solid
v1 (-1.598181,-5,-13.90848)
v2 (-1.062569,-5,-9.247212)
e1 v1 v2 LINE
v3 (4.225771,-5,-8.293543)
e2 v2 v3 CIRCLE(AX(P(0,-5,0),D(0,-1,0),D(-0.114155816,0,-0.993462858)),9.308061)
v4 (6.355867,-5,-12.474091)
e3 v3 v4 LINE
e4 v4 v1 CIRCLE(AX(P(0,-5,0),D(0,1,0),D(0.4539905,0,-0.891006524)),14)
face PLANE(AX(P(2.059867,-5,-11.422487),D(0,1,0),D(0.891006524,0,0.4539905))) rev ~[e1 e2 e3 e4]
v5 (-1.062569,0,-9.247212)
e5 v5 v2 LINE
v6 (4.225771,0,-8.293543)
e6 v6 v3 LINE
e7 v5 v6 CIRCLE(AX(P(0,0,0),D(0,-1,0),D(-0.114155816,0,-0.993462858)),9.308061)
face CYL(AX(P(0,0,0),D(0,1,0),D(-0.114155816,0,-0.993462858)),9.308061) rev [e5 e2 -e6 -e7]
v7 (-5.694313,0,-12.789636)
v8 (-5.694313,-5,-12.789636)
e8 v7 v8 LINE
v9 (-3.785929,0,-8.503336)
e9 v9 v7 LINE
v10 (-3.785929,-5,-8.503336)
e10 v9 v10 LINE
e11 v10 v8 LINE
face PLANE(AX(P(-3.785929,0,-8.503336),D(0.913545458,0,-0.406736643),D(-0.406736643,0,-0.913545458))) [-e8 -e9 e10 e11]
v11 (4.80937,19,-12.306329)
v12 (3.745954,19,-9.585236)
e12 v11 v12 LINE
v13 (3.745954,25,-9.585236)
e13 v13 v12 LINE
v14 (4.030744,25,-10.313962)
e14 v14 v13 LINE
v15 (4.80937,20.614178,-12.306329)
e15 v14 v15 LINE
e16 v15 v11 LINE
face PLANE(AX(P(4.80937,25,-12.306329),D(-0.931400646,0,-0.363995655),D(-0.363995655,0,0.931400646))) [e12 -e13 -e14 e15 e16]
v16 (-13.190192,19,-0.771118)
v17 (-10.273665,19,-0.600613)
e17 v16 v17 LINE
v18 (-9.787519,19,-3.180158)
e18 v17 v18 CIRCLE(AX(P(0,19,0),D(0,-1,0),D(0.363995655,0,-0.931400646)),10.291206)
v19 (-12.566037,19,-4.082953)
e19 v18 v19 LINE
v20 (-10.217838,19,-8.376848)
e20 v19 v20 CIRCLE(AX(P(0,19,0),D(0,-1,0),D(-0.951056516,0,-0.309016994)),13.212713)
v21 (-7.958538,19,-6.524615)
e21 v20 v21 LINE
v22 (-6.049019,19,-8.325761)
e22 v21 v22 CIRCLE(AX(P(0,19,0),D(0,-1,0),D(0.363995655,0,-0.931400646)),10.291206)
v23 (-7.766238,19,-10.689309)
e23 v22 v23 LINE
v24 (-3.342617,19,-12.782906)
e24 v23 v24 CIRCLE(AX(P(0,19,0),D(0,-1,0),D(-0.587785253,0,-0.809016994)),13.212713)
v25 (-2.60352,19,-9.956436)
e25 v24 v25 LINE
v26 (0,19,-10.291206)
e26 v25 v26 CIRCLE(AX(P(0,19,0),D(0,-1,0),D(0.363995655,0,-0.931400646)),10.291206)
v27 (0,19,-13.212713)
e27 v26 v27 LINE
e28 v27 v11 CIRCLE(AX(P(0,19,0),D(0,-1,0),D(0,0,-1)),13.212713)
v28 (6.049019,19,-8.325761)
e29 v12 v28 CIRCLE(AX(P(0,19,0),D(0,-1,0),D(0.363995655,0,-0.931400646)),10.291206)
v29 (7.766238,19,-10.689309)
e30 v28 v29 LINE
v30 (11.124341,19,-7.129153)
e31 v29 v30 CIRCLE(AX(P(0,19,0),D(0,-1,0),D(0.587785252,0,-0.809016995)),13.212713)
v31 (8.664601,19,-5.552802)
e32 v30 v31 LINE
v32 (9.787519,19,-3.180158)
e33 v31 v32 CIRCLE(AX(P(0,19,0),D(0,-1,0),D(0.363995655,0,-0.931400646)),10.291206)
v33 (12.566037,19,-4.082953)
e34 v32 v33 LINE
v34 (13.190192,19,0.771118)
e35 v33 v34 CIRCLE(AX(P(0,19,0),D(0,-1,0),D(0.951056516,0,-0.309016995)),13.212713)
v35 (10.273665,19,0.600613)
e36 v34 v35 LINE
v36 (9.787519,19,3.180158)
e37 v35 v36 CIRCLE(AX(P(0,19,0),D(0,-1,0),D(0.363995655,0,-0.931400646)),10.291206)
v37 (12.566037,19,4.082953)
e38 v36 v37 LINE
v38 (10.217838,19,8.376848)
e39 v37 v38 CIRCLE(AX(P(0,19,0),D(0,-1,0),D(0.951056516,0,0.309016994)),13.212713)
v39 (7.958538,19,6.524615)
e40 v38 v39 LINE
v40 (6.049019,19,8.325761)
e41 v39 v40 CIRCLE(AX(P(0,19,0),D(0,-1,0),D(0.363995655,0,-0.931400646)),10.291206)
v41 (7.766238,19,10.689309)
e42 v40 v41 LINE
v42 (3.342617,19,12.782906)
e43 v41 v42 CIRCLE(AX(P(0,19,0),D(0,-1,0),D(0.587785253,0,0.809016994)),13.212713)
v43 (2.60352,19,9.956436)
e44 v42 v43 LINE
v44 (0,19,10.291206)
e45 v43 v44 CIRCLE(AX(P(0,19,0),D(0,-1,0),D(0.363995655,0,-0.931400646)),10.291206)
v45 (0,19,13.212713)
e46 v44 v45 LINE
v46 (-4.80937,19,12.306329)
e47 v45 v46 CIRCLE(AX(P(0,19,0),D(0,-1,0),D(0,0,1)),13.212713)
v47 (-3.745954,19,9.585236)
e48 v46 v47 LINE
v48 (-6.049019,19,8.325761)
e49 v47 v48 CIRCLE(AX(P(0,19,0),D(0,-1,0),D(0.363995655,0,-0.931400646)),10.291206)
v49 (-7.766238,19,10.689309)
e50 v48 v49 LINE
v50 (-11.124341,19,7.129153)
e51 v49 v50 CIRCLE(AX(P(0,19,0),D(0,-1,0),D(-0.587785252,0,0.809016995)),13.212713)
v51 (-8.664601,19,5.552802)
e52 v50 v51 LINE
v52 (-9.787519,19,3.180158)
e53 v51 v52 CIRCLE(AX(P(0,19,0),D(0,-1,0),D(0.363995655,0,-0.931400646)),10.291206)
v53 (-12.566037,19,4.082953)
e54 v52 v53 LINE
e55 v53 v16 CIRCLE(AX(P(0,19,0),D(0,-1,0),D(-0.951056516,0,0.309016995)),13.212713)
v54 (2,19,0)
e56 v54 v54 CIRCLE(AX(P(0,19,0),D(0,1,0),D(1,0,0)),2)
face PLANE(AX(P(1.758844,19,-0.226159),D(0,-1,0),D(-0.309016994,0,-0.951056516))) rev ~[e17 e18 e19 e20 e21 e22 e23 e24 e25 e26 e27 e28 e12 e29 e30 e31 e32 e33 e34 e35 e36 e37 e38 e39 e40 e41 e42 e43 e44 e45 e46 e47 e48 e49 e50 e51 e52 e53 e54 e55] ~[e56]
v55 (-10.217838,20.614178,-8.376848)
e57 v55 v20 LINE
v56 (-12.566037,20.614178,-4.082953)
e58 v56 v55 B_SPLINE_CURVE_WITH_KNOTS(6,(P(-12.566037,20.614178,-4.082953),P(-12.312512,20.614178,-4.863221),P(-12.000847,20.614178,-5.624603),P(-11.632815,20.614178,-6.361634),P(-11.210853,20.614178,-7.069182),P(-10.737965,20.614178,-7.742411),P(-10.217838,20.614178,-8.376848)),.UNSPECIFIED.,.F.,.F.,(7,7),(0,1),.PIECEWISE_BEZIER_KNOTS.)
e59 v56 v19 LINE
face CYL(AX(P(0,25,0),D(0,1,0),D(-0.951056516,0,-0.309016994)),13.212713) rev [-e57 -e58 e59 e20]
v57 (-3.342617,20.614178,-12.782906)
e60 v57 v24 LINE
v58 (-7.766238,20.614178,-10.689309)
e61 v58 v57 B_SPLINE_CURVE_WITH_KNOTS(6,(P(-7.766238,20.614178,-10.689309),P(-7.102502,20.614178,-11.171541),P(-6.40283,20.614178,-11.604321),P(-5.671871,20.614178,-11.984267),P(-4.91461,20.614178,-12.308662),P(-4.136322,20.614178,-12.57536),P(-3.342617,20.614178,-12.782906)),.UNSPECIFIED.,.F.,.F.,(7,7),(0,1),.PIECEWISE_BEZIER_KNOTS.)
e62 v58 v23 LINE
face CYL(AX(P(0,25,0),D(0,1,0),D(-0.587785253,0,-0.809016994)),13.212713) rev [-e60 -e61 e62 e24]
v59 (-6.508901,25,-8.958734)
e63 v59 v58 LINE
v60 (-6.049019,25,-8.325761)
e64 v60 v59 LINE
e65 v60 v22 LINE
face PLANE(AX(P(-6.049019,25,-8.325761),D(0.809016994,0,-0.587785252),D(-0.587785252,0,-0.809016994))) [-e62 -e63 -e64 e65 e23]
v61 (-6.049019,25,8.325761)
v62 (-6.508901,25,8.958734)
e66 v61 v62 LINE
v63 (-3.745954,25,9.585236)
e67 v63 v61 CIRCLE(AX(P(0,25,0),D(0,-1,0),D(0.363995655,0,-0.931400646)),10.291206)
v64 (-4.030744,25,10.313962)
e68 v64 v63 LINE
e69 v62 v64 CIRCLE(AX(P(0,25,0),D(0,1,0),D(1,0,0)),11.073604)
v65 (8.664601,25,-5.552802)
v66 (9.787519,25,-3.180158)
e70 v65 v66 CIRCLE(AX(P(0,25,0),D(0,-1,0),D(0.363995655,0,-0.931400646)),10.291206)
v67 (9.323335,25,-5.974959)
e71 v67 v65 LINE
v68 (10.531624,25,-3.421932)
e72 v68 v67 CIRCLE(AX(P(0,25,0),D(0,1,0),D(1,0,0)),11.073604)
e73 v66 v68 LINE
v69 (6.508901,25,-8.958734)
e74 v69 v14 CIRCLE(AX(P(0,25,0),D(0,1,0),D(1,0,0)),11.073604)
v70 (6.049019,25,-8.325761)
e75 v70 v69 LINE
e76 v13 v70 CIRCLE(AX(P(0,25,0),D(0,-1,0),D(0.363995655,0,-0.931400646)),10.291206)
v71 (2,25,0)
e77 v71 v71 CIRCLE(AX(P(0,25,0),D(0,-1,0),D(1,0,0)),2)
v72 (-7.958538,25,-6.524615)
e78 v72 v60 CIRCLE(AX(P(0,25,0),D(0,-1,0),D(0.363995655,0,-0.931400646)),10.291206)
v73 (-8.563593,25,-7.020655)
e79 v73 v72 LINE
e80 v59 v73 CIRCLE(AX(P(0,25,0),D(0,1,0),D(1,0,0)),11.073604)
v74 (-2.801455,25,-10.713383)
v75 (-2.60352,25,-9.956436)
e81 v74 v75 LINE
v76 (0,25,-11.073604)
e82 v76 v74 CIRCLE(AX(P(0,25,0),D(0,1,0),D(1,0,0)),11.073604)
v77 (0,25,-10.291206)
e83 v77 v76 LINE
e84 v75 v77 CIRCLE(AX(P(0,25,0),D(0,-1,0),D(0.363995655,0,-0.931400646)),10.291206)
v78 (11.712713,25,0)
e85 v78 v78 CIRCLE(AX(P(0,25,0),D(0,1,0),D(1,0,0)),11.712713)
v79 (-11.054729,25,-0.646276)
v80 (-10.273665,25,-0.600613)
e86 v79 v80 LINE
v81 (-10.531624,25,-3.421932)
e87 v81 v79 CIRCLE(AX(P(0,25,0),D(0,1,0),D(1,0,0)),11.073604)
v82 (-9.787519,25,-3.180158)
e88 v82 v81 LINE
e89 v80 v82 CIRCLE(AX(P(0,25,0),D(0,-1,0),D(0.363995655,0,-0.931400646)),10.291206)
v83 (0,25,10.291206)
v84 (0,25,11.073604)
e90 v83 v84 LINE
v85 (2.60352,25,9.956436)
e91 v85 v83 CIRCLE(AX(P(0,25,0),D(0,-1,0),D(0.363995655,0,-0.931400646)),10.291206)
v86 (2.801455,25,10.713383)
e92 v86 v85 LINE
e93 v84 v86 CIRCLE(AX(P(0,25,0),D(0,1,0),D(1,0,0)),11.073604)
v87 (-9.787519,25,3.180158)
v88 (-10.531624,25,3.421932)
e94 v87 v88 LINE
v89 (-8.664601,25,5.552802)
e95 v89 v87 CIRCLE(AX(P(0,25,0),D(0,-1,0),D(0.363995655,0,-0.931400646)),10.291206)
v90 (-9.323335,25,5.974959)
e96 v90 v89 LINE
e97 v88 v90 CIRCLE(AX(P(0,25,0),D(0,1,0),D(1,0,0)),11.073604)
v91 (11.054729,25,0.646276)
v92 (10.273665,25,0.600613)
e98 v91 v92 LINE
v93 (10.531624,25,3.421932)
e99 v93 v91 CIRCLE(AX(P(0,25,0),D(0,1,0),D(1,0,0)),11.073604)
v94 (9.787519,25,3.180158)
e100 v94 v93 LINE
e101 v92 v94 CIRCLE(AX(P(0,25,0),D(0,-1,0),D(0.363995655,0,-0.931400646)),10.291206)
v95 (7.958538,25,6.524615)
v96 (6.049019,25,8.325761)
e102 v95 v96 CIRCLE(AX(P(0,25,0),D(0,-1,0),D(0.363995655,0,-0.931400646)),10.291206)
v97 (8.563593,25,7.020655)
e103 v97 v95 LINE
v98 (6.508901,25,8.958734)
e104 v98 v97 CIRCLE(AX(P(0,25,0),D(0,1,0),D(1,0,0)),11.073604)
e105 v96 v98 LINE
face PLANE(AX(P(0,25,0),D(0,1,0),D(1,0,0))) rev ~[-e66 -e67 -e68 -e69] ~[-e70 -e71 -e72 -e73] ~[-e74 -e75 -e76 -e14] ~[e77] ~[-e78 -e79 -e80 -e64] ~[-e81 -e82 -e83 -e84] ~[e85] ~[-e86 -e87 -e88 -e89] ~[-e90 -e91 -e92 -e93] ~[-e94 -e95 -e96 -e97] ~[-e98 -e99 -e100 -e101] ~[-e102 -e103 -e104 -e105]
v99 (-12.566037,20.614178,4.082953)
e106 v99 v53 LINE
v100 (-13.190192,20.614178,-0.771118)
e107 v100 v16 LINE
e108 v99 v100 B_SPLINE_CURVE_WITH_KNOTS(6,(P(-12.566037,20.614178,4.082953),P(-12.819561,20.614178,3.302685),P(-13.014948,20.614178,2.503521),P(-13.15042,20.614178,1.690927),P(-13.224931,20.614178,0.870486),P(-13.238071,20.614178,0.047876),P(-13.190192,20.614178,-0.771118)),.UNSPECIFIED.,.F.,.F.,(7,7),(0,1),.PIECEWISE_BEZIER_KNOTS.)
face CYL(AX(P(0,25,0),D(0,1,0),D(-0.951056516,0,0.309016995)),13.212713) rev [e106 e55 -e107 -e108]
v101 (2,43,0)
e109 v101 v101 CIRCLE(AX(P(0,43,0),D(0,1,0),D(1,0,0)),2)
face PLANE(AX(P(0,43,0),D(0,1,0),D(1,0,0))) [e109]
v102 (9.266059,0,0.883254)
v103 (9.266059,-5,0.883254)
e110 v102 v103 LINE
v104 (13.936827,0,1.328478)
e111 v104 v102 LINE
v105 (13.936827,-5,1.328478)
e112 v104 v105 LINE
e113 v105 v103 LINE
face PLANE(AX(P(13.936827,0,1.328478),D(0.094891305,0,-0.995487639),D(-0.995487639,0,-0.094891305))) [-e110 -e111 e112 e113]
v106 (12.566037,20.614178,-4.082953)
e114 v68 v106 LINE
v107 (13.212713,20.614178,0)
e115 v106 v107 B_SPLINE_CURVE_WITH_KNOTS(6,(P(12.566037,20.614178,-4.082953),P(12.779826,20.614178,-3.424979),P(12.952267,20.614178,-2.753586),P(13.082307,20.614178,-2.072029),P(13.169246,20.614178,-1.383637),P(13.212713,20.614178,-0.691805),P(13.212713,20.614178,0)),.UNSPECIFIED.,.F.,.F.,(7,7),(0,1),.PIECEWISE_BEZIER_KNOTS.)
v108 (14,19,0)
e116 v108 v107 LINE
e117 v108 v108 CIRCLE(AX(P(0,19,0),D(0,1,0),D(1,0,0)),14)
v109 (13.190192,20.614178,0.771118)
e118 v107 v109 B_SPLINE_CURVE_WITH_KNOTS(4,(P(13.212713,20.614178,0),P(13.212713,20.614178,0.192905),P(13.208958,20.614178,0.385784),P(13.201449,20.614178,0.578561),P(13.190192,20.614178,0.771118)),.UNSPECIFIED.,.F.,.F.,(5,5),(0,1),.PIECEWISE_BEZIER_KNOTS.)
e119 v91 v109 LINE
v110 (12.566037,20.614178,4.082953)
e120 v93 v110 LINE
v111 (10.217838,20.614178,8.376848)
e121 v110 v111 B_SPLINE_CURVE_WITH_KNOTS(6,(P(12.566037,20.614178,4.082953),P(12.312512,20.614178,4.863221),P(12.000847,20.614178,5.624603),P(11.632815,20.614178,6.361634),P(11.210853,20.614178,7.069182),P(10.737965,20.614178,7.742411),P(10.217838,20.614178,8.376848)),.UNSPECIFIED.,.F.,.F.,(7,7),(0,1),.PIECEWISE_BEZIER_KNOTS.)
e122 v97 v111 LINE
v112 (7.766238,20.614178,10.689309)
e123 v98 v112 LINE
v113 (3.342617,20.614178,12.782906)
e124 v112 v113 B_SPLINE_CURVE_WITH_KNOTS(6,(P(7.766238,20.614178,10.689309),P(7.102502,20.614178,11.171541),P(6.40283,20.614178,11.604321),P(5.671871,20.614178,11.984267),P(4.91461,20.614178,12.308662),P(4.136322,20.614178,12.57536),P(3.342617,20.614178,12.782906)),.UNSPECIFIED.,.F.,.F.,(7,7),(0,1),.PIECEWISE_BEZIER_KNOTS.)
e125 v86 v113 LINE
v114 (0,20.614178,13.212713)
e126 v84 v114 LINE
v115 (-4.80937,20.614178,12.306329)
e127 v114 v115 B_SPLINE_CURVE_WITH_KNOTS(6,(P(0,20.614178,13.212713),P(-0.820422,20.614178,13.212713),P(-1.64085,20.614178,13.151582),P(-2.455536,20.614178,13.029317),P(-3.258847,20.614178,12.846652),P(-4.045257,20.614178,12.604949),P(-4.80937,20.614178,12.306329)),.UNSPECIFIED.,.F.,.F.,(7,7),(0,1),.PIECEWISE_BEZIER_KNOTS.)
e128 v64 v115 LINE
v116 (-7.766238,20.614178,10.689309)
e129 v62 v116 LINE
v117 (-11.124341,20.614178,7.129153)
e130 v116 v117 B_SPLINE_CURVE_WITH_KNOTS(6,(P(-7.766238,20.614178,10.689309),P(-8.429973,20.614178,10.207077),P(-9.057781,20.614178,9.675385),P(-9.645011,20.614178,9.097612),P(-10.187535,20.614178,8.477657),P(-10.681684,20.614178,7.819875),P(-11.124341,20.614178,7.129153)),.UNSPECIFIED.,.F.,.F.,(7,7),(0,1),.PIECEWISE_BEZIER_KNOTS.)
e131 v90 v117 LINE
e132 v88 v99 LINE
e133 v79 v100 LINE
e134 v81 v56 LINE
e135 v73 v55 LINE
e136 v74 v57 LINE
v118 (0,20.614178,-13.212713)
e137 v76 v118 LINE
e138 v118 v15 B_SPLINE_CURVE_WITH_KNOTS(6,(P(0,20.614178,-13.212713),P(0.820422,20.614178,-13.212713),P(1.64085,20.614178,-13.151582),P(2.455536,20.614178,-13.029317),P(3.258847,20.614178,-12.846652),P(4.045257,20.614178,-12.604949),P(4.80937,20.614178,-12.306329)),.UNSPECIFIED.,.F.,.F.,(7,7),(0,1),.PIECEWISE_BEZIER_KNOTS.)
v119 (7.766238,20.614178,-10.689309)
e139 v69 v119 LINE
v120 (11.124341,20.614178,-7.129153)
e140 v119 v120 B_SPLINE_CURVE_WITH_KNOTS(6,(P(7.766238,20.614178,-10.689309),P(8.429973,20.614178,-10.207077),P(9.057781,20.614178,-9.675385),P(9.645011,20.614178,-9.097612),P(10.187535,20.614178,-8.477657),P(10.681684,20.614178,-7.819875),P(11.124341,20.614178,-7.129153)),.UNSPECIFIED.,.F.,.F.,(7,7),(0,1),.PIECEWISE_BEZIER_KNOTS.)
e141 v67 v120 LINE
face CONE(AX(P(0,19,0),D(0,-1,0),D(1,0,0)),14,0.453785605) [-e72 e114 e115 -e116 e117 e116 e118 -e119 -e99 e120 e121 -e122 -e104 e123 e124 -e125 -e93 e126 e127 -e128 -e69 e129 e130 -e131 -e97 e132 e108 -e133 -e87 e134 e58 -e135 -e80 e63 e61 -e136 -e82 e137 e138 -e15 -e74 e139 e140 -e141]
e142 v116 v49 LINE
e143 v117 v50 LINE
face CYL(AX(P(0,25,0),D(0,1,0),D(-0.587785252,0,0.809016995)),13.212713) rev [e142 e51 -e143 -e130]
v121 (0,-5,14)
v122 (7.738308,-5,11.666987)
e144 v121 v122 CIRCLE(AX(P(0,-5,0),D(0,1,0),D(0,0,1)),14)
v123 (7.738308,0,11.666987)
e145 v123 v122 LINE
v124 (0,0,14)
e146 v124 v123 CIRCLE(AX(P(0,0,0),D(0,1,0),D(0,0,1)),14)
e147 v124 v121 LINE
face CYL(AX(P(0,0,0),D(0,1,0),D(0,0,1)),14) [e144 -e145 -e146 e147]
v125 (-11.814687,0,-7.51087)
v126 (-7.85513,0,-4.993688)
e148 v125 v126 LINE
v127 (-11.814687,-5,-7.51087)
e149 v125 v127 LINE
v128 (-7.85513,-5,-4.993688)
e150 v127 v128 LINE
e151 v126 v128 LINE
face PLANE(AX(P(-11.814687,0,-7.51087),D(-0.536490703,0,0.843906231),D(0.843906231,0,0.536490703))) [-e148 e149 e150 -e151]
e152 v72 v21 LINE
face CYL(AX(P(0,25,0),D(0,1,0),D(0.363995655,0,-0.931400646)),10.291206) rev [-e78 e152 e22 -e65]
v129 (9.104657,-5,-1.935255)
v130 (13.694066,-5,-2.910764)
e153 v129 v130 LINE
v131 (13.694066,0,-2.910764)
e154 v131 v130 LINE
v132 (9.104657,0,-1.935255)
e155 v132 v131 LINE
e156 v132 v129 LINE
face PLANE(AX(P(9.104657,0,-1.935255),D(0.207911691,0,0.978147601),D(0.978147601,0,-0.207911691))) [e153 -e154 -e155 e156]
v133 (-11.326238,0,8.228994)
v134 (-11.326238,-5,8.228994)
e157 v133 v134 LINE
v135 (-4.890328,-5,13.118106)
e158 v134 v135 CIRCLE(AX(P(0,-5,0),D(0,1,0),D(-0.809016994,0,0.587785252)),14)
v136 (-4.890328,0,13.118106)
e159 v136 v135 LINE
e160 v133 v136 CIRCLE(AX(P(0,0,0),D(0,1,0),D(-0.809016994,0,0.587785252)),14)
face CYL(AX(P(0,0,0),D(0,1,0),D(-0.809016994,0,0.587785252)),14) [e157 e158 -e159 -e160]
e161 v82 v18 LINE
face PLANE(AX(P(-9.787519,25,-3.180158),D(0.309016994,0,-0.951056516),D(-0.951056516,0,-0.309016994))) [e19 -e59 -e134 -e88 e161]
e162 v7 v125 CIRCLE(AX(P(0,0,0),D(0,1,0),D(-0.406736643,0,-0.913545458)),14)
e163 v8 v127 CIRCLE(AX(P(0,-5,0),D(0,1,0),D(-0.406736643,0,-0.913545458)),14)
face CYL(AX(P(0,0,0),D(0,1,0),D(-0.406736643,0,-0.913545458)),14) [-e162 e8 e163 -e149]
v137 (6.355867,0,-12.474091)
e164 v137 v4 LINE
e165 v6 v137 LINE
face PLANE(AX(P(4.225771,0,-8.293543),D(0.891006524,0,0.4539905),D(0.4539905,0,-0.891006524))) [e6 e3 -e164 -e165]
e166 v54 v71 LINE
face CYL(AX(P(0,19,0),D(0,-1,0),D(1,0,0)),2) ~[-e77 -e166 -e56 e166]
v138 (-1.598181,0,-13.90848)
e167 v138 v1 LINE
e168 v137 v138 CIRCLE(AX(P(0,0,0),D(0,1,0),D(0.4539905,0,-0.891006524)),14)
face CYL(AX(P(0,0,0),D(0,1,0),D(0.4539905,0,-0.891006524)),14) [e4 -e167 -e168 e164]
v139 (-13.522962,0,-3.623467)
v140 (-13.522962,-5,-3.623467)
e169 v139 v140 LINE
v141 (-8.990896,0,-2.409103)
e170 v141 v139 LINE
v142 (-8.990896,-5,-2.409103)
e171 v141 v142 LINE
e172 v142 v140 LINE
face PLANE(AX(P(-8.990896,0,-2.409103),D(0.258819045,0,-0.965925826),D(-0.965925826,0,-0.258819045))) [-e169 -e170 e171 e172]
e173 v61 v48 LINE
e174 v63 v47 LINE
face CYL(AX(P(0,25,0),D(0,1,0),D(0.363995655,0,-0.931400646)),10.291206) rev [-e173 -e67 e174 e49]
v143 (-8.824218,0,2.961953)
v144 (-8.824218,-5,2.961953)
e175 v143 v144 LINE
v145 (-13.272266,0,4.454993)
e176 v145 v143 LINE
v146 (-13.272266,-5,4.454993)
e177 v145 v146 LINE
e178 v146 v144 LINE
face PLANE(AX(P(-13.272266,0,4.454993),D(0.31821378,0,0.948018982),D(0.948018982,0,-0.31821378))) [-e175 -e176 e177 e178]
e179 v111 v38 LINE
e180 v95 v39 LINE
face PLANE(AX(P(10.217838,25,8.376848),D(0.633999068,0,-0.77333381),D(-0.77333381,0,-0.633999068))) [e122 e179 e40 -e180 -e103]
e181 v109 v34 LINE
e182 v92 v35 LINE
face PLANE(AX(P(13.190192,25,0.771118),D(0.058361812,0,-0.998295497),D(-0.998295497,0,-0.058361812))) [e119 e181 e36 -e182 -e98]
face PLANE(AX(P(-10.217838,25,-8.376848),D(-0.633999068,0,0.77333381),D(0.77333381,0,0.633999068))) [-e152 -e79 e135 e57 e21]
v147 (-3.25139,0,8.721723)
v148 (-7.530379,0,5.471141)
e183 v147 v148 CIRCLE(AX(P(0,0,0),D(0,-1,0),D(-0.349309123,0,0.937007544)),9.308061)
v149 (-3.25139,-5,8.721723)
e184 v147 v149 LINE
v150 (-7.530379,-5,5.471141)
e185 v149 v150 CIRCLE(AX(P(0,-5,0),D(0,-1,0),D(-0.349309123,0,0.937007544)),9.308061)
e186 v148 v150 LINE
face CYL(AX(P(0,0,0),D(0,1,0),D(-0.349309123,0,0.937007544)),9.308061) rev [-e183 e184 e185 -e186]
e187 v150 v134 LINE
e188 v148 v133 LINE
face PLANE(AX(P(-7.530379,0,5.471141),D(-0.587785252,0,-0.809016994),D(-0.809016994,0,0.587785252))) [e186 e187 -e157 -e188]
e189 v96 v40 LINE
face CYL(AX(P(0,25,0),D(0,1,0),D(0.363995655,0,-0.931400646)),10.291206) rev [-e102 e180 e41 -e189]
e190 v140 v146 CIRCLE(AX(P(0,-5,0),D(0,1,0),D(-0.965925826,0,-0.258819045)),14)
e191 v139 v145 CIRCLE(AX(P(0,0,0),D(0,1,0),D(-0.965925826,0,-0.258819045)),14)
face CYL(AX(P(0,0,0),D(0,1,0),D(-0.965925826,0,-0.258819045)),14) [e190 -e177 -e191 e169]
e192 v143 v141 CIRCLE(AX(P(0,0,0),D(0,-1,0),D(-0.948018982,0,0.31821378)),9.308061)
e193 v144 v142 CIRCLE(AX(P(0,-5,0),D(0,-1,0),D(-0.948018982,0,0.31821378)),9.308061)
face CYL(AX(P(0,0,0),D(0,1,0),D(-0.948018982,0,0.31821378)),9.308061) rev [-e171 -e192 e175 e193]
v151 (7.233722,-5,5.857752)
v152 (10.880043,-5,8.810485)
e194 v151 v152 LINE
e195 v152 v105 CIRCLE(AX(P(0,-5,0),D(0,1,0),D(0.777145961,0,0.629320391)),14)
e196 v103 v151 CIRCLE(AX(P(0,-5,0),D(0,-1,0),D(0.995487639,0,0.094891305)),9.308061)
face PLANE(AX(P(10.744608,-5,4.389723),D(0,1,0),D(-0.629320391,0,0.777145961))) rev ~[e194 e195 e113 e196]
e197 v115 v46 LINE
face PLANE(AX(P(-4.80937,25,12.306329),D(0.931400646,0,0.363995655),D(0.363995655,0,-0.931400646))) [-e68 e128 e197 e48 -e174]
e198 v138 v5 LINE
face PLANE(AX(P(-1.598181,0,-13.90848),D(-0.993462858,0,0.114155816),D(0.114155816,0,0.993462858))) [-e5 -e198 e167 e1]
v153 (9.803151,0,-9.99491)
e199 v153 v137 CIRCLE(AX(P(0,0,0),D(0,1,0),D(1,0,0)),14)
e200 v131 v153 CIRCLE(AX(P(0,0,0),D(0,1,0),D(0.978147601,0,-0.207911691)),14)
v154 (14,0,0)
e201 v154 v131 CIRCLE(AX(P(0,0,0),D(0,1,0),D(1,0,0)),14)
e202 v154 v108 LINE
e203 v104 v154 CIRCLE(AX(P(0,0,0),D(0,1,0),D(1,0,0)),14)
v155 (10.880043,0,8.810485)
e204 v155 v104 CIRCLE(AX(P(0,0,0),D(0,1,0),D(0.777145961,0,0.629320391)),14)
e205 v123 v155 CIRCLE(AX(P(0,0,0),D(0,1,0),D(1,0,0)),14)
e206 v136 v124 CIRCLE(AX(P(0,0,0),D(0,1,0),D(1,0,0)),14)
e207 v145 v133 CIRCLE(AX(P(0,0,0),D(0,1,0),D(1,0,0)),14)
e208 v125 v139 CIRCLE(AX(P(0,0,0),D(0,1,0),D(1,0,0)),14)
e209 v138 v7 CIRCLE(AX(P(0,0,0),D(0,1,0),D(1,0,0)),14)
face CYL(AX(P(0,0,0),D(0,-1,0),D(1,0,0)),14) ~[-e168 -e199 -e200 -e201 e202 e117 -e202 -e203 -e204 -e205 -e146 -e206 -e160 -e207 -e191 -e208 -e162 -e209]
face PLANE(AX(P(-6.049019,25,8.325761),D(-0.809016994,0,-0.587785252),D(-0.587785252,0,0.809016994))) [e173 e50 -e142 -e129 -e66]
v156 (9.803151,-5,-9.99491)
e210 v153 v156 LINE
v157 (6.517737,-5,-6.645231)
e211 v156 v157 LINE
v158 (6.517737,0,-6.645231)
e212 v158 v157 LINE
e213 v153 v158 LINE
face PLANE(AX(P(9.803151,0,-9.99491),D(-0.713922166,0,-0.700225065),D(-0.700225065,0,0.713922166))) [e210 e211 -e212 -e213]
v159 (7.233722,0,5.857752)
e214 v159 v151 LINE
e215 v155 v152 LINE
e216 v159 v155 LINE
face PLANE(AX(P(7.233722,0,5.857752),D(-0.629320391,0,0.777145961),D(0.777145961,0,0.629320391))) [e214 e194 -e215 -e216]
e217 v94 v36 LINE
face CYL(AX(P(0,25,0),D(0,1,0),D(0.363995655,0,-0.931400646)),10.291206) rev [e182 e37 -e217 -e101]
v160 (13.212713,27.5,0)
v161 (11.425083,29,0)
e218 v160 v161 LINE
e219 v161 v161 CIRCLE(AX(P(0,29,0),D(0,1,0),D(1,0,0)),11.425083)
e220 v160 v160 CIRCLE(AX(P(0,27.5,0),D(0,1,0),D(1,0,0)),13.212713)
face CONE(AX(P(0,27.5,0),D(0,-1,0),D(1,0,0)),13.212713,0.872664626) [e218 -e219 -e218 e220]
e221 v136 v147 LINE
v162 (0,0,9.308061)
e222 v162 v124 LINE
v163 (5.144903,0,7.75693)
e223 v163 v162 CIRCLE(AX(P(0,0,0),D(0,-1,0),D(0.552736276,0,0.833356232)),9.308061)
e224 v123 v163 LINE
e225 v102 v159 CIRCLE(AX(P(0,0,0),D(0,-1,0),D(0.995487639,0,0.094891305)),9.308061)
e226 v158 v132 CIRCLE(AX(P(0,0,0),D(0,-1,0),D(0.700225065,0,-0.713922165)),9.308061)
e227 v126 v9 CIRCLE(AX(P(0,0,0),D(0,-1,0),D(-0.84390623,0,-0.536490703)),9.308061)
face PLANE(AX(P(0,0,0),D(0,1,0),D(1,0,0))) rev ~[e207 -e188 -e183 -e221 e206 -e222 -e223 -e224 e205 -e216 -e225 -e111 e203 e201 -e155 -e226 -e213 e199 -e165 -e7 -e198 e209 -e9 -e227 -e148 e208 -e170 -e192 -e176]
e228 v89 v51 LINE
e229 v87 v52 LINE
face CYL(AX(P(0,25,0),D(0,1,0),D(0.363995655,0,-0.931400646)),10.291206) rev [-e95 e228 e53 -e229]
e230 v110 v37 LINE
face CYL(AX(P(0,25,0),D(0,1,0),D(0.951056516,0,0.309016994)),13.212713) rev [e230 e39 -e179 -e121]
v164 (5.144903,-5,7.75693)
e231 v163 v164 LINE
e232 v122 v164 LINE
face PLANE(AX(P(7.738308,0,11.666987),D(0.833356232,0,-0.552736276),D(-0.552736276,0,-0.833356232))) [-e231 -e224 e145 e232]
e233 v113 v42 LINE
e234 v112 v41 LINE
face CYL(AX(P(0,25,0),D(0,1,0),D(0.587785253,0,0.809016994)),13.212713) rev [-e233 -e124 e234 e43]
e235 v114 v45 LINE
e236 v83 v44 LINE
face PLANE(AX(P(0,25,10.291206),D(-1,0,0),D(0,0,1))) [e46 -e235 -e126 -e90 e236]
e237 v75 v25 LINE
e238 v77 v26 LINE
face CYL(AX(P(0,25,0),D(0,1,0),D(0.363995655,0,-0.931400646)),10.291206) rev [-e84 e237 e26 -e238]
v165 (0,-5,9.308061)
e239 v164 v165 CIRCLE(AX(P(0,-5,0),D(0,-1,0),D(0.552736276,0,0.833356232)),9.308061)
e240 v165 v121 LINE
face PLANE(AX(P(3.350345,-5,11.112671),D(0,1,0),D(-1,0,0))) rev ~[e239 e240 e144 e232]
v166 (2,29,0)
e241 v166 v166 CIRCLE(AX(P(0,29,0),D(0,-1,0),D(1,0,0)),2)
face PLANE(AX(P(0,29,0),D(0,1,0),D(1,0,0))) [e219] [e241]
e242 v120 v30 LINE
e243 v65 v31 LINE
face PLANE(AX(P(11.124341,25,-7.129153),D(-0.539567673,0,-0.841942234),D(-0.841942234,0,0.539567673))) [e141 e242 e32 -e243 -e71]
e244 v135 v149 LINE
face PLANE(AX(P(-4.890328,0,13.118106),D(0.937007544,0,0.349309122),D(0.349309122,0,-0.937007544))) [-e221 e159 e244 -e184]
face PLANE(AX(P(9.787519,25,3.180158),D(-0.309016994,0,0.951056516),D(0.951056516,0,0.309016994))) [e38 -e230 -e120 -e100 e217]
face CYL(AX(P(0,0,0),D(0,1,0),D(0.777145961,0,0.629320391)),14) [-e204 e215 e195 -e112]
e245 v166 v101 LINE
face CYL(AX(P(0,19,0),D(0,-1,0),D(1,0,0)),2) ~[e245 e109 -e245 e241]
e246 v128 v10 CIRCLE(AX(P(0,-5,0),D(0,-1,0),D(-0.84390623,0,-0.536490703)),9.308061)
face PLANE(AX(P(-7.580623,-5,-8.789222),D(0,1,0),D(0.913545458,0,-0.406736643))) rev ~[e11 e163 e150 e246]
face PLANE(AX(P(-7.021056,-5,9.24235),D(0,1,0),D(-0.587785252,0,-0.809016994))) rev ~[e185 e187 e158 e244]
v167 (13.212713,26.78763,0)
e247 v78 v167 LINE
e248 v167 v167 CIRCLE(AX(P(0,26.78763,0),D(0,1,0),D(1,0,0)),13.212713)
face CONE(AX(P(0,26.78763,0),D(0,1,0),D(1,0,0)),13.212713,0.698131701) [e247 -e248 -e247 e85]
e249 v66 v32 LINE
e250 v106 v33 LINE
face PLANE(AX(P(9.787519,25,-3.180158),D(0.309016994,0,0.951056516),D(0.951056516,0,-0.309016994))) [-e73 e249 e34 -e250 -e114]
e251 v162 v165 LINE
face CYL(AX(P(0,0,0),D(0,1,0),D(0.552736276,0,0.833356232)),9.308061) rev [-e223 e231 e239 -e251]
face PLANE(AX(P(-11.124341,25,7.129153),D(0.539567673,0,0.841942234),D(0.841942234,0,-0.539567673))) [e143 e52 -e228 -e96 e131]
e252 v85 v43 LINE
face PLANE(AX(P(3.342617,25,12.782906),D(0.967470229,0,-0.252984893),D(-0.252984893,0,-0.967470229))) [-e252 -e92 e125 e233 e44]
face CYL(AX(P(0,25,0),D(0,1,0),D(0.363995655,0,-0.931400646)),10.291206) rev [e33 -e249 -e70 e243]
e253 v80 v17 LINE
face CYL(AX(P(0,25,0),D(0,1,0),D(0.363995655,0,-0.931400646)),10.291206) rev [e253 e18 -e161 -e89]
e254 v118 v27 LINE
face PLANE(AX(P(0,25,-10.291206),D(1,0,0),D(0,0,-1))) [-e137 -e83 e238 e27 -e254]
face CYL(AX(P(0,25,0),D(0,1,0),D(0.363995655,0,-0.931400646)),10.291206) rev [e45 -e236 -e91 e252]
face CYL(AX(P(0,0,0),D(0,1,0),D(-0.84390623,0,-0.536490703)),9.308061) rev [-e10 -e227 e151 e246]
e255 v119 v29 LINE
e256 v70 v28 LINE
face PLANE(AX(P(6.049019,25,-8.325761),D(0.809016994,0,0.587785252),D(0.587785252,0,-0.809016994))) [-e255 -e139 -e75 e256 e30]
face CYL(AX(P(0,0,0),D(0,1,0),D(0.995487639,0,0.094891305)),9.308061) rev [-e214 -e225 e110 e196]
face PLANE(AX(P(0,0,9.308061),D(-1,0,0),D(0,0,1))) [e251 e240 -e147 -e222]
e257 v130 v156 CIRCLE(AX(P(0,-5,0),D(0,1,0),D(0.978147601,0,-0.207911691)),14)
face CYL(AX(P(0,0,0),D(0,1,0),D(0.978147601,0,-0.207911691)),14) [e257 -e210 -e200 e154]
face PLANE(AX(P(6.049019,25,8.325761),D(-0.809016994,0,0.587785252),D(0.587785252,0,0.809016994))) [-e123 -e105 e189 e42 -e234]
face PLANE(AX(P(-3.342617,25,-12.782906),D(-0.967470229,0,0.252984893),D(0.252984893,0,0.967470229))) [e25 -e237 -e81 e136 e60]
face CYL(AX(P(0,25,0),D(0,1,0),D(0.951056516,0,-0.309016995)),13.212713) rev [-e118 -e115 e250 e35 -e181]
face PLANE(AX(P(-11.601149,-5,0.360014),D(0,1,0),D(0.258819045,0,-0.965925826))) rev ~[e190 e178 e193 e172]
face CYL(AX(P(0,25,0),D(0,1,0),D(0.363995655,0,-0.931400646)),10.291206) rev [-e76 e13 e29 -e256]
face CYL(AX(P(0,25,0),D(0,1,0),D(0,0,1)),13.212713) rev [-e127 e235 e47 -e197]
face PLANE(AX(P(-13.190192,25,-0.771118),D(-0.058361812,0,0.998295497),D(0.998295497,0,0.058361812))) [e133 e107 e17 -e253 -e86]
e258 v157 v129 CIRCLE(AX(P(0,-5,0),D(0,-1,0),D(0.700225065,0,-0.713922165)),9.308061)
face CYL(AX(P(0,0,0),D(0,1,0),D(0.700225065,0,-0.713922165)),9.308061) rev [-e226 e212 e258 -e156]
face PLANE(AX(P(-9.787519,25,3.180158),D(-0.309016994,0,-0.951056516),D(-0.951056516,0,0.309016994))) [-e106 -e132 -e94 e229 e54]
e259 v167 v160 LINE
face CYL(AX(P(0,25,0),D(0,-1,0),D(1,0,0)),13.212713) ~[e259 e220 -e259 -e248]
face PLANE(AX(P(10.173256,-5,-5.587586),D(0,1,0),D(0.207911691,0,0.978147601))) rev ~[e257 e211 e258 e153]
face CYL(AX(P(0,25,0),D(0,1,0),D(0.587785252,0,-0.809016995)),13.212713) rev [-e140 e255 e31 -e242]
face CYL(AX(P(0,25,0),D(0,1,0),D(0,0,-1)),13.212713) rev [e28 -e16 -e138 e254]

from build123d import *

# Parameters (mm, degrees)
SKETCH1_R             = 14
BOSS_EXTRUDE1_DEPTH   = 25
CHAMFER1_SIZE         = 6
CHAMFER1_SIZE2        = 2.926395531
CUT_EXTRUDE1_DEPTH    = 6
CIRPATTERN1_COUNT     = 10
SKETCH3_R             = 13.212713
BOSS_EXTRUDE2_DEPTH   = 4
CHAMFER2_SIZE         = 1.5
CHAMFER2_SIZE2        = 1.787630389
CHAMFER2_PART_2_SIZE  = 1.5
CHAMFER2_PART_2_SIZE2 = 1.787630389
SKETCH4_R             = 2
BOSS_EXTRUDE3_DEPTH   = 24
BOSS_EXTRUDE4_DEPTH   = 5
CIRPATTERN2_COUNT     = 7
CIRPATTERN2_ANGLE     = 306


with BuildPart() as part:
    # Sketch1 → Boss-Extrude1 (new body)
    with BuildSketch(Plane(origin=(0, 0, 0), x_dir=(1, 0, 0), z_dir=(0, 1, 0))):
        Circle(SKETCH1_R)
    extrude(amount=BOSS_EXTRUDE1_DEPTH)

    # Chamfer1
    chamfer1_edges = [part.edges().sort_by_distance(p)[0] for p in [
        (-14, 25, 0),
    ]]
    chamfer1_side = [part.faces().sort_by_distance(p)[0] for p in [
        (-14, 12.5, 0),
    ]]
    chamfer(chamfer1_edges, length=CHAMFER1_SIZE, length2=CHAMFER1_SIZE2, reference=chamfer1_side[0])

    # Sketch2 → Cut-Extrude1 (cut)
    with BuildSketch(Plane(origin=(0, 25, 0), x_dir=(1, 0, 0), z_dir=(0, 1, 0))):
        with BuildLine():
            Line((0, 10.291206374), (0, 13.212713))
            ThreePointArc((0, 13.212713), (2.447017171, 12.98414001), (4.80937012, 12.306329423))
            Line((4.80937012, 12.306329423), (3.745954402, 9.585236265))
            ThreePointArc((3.745954402, 9.585236265), (-1.905949119, -10.113173913), (0, 10.291206374))
        make_face()
    cut_extrude1 = extrude(amount=-CUT_EXTRUDE1_DEPTH, mode=Mode.SUBTRACT)

    # CirPattern1: Cut-Extrude1 ×10 about axis
    cirpattern1_axis = Axis((0, 0, 0), (0, 1, 0))
    for i in range(1, CIRPATTERN1_COUNT):
        add(cut_extrude1.rotate(cirpattern1_axis, i * 360 / CIRPATTERN1_COUNT), mode=Mode.SUBTRACT)

    # Sketch3 → Boss-Extrude2 (add)
    with BuildSketch(Plane(origin=(0, 25, 0), x_dir=(1, 0, 0), z_dir=(0, 1, 0))):
        Circle(SKETCH3_R)
    extrude(amount=BOSS_EXTRUDE2_DEPTH)

    # Chamfer2
    chamfer2_edges = [part.edges().sort_by_distance(p)[0] for p in [
        (-13.212713, 25, 0),
    ]]
    chamfer2_side = [part.faces().sort_by_distance(p)[0] for p in [
        (0, 25, 0),
    ]]
    chamfer(chamfer2_edges, length=CHAMFER2_SIZE, length2=CHAMFER2_SIZE2, reference=chamfer2_side[0])

    # Chamfer2 part 2
    chamfer2_part_2_edges = [part.edges().sort_by_distance(p)[0] for p in [
        (-13.212713, 29, 0),
    ]]
    chamfer2_part_2_side = [part.faces().sort_by_distance(p)[0] for p in [
        (-13.212713, 27, 0),
    ]]
    chamfer(chamfer2_part_2_edges, length=CHAMFER2_PART_2_SIZE, length2=CHAMFER2_PART_2_SIZE2, reference=chamfer2_part_2_side[0])

    # Sketch4 → Boss-Extrude3 (add)
    with BuildSketch(Plane(origin=(0, 19, 0), x_dir=(1, 0, 0), z_dir=(0, 1, 0))):
        Circle(SKETCH4_R)
    extrude(amount=BOSS_EXTRUDE3_DEPTH)

    # Sketch5 → Boss-Extrude4 (add)
    with BuildSketch(Plane.XZ):
        with BuildLine():
            Line((0, 9.308060502), (0, 14))
            ThreePointArc((0, 14), (4.041174246, 13.404063217), (7.738307866, 11.666987245))
            Line((7.738307866, 11.666987245), (5.1449027, 7.756930225))
            ThreePointArc((5.1449027, 7.756930225), (2.686821027, 8.911845099), (0, 9.308060502))
        make_face()
    boss_extrude4 = extrude(amount=BOSS_EXTRUDE4_DEPTH)

    # CirPattern2: Boss-Extrude4 ×7 about axis
    cirpattern2_axis = Axis((0, 0, 0), (0, 1, 0))
    for i in range(1, CIRPATTERN2_COUNT):
        add(boss_extrude4.rotate(cirpattern2_axis, i * CIRPATTERN2_ANGLE / (CIRPATTERN2_COUNT - 1)))


solid = part.part
